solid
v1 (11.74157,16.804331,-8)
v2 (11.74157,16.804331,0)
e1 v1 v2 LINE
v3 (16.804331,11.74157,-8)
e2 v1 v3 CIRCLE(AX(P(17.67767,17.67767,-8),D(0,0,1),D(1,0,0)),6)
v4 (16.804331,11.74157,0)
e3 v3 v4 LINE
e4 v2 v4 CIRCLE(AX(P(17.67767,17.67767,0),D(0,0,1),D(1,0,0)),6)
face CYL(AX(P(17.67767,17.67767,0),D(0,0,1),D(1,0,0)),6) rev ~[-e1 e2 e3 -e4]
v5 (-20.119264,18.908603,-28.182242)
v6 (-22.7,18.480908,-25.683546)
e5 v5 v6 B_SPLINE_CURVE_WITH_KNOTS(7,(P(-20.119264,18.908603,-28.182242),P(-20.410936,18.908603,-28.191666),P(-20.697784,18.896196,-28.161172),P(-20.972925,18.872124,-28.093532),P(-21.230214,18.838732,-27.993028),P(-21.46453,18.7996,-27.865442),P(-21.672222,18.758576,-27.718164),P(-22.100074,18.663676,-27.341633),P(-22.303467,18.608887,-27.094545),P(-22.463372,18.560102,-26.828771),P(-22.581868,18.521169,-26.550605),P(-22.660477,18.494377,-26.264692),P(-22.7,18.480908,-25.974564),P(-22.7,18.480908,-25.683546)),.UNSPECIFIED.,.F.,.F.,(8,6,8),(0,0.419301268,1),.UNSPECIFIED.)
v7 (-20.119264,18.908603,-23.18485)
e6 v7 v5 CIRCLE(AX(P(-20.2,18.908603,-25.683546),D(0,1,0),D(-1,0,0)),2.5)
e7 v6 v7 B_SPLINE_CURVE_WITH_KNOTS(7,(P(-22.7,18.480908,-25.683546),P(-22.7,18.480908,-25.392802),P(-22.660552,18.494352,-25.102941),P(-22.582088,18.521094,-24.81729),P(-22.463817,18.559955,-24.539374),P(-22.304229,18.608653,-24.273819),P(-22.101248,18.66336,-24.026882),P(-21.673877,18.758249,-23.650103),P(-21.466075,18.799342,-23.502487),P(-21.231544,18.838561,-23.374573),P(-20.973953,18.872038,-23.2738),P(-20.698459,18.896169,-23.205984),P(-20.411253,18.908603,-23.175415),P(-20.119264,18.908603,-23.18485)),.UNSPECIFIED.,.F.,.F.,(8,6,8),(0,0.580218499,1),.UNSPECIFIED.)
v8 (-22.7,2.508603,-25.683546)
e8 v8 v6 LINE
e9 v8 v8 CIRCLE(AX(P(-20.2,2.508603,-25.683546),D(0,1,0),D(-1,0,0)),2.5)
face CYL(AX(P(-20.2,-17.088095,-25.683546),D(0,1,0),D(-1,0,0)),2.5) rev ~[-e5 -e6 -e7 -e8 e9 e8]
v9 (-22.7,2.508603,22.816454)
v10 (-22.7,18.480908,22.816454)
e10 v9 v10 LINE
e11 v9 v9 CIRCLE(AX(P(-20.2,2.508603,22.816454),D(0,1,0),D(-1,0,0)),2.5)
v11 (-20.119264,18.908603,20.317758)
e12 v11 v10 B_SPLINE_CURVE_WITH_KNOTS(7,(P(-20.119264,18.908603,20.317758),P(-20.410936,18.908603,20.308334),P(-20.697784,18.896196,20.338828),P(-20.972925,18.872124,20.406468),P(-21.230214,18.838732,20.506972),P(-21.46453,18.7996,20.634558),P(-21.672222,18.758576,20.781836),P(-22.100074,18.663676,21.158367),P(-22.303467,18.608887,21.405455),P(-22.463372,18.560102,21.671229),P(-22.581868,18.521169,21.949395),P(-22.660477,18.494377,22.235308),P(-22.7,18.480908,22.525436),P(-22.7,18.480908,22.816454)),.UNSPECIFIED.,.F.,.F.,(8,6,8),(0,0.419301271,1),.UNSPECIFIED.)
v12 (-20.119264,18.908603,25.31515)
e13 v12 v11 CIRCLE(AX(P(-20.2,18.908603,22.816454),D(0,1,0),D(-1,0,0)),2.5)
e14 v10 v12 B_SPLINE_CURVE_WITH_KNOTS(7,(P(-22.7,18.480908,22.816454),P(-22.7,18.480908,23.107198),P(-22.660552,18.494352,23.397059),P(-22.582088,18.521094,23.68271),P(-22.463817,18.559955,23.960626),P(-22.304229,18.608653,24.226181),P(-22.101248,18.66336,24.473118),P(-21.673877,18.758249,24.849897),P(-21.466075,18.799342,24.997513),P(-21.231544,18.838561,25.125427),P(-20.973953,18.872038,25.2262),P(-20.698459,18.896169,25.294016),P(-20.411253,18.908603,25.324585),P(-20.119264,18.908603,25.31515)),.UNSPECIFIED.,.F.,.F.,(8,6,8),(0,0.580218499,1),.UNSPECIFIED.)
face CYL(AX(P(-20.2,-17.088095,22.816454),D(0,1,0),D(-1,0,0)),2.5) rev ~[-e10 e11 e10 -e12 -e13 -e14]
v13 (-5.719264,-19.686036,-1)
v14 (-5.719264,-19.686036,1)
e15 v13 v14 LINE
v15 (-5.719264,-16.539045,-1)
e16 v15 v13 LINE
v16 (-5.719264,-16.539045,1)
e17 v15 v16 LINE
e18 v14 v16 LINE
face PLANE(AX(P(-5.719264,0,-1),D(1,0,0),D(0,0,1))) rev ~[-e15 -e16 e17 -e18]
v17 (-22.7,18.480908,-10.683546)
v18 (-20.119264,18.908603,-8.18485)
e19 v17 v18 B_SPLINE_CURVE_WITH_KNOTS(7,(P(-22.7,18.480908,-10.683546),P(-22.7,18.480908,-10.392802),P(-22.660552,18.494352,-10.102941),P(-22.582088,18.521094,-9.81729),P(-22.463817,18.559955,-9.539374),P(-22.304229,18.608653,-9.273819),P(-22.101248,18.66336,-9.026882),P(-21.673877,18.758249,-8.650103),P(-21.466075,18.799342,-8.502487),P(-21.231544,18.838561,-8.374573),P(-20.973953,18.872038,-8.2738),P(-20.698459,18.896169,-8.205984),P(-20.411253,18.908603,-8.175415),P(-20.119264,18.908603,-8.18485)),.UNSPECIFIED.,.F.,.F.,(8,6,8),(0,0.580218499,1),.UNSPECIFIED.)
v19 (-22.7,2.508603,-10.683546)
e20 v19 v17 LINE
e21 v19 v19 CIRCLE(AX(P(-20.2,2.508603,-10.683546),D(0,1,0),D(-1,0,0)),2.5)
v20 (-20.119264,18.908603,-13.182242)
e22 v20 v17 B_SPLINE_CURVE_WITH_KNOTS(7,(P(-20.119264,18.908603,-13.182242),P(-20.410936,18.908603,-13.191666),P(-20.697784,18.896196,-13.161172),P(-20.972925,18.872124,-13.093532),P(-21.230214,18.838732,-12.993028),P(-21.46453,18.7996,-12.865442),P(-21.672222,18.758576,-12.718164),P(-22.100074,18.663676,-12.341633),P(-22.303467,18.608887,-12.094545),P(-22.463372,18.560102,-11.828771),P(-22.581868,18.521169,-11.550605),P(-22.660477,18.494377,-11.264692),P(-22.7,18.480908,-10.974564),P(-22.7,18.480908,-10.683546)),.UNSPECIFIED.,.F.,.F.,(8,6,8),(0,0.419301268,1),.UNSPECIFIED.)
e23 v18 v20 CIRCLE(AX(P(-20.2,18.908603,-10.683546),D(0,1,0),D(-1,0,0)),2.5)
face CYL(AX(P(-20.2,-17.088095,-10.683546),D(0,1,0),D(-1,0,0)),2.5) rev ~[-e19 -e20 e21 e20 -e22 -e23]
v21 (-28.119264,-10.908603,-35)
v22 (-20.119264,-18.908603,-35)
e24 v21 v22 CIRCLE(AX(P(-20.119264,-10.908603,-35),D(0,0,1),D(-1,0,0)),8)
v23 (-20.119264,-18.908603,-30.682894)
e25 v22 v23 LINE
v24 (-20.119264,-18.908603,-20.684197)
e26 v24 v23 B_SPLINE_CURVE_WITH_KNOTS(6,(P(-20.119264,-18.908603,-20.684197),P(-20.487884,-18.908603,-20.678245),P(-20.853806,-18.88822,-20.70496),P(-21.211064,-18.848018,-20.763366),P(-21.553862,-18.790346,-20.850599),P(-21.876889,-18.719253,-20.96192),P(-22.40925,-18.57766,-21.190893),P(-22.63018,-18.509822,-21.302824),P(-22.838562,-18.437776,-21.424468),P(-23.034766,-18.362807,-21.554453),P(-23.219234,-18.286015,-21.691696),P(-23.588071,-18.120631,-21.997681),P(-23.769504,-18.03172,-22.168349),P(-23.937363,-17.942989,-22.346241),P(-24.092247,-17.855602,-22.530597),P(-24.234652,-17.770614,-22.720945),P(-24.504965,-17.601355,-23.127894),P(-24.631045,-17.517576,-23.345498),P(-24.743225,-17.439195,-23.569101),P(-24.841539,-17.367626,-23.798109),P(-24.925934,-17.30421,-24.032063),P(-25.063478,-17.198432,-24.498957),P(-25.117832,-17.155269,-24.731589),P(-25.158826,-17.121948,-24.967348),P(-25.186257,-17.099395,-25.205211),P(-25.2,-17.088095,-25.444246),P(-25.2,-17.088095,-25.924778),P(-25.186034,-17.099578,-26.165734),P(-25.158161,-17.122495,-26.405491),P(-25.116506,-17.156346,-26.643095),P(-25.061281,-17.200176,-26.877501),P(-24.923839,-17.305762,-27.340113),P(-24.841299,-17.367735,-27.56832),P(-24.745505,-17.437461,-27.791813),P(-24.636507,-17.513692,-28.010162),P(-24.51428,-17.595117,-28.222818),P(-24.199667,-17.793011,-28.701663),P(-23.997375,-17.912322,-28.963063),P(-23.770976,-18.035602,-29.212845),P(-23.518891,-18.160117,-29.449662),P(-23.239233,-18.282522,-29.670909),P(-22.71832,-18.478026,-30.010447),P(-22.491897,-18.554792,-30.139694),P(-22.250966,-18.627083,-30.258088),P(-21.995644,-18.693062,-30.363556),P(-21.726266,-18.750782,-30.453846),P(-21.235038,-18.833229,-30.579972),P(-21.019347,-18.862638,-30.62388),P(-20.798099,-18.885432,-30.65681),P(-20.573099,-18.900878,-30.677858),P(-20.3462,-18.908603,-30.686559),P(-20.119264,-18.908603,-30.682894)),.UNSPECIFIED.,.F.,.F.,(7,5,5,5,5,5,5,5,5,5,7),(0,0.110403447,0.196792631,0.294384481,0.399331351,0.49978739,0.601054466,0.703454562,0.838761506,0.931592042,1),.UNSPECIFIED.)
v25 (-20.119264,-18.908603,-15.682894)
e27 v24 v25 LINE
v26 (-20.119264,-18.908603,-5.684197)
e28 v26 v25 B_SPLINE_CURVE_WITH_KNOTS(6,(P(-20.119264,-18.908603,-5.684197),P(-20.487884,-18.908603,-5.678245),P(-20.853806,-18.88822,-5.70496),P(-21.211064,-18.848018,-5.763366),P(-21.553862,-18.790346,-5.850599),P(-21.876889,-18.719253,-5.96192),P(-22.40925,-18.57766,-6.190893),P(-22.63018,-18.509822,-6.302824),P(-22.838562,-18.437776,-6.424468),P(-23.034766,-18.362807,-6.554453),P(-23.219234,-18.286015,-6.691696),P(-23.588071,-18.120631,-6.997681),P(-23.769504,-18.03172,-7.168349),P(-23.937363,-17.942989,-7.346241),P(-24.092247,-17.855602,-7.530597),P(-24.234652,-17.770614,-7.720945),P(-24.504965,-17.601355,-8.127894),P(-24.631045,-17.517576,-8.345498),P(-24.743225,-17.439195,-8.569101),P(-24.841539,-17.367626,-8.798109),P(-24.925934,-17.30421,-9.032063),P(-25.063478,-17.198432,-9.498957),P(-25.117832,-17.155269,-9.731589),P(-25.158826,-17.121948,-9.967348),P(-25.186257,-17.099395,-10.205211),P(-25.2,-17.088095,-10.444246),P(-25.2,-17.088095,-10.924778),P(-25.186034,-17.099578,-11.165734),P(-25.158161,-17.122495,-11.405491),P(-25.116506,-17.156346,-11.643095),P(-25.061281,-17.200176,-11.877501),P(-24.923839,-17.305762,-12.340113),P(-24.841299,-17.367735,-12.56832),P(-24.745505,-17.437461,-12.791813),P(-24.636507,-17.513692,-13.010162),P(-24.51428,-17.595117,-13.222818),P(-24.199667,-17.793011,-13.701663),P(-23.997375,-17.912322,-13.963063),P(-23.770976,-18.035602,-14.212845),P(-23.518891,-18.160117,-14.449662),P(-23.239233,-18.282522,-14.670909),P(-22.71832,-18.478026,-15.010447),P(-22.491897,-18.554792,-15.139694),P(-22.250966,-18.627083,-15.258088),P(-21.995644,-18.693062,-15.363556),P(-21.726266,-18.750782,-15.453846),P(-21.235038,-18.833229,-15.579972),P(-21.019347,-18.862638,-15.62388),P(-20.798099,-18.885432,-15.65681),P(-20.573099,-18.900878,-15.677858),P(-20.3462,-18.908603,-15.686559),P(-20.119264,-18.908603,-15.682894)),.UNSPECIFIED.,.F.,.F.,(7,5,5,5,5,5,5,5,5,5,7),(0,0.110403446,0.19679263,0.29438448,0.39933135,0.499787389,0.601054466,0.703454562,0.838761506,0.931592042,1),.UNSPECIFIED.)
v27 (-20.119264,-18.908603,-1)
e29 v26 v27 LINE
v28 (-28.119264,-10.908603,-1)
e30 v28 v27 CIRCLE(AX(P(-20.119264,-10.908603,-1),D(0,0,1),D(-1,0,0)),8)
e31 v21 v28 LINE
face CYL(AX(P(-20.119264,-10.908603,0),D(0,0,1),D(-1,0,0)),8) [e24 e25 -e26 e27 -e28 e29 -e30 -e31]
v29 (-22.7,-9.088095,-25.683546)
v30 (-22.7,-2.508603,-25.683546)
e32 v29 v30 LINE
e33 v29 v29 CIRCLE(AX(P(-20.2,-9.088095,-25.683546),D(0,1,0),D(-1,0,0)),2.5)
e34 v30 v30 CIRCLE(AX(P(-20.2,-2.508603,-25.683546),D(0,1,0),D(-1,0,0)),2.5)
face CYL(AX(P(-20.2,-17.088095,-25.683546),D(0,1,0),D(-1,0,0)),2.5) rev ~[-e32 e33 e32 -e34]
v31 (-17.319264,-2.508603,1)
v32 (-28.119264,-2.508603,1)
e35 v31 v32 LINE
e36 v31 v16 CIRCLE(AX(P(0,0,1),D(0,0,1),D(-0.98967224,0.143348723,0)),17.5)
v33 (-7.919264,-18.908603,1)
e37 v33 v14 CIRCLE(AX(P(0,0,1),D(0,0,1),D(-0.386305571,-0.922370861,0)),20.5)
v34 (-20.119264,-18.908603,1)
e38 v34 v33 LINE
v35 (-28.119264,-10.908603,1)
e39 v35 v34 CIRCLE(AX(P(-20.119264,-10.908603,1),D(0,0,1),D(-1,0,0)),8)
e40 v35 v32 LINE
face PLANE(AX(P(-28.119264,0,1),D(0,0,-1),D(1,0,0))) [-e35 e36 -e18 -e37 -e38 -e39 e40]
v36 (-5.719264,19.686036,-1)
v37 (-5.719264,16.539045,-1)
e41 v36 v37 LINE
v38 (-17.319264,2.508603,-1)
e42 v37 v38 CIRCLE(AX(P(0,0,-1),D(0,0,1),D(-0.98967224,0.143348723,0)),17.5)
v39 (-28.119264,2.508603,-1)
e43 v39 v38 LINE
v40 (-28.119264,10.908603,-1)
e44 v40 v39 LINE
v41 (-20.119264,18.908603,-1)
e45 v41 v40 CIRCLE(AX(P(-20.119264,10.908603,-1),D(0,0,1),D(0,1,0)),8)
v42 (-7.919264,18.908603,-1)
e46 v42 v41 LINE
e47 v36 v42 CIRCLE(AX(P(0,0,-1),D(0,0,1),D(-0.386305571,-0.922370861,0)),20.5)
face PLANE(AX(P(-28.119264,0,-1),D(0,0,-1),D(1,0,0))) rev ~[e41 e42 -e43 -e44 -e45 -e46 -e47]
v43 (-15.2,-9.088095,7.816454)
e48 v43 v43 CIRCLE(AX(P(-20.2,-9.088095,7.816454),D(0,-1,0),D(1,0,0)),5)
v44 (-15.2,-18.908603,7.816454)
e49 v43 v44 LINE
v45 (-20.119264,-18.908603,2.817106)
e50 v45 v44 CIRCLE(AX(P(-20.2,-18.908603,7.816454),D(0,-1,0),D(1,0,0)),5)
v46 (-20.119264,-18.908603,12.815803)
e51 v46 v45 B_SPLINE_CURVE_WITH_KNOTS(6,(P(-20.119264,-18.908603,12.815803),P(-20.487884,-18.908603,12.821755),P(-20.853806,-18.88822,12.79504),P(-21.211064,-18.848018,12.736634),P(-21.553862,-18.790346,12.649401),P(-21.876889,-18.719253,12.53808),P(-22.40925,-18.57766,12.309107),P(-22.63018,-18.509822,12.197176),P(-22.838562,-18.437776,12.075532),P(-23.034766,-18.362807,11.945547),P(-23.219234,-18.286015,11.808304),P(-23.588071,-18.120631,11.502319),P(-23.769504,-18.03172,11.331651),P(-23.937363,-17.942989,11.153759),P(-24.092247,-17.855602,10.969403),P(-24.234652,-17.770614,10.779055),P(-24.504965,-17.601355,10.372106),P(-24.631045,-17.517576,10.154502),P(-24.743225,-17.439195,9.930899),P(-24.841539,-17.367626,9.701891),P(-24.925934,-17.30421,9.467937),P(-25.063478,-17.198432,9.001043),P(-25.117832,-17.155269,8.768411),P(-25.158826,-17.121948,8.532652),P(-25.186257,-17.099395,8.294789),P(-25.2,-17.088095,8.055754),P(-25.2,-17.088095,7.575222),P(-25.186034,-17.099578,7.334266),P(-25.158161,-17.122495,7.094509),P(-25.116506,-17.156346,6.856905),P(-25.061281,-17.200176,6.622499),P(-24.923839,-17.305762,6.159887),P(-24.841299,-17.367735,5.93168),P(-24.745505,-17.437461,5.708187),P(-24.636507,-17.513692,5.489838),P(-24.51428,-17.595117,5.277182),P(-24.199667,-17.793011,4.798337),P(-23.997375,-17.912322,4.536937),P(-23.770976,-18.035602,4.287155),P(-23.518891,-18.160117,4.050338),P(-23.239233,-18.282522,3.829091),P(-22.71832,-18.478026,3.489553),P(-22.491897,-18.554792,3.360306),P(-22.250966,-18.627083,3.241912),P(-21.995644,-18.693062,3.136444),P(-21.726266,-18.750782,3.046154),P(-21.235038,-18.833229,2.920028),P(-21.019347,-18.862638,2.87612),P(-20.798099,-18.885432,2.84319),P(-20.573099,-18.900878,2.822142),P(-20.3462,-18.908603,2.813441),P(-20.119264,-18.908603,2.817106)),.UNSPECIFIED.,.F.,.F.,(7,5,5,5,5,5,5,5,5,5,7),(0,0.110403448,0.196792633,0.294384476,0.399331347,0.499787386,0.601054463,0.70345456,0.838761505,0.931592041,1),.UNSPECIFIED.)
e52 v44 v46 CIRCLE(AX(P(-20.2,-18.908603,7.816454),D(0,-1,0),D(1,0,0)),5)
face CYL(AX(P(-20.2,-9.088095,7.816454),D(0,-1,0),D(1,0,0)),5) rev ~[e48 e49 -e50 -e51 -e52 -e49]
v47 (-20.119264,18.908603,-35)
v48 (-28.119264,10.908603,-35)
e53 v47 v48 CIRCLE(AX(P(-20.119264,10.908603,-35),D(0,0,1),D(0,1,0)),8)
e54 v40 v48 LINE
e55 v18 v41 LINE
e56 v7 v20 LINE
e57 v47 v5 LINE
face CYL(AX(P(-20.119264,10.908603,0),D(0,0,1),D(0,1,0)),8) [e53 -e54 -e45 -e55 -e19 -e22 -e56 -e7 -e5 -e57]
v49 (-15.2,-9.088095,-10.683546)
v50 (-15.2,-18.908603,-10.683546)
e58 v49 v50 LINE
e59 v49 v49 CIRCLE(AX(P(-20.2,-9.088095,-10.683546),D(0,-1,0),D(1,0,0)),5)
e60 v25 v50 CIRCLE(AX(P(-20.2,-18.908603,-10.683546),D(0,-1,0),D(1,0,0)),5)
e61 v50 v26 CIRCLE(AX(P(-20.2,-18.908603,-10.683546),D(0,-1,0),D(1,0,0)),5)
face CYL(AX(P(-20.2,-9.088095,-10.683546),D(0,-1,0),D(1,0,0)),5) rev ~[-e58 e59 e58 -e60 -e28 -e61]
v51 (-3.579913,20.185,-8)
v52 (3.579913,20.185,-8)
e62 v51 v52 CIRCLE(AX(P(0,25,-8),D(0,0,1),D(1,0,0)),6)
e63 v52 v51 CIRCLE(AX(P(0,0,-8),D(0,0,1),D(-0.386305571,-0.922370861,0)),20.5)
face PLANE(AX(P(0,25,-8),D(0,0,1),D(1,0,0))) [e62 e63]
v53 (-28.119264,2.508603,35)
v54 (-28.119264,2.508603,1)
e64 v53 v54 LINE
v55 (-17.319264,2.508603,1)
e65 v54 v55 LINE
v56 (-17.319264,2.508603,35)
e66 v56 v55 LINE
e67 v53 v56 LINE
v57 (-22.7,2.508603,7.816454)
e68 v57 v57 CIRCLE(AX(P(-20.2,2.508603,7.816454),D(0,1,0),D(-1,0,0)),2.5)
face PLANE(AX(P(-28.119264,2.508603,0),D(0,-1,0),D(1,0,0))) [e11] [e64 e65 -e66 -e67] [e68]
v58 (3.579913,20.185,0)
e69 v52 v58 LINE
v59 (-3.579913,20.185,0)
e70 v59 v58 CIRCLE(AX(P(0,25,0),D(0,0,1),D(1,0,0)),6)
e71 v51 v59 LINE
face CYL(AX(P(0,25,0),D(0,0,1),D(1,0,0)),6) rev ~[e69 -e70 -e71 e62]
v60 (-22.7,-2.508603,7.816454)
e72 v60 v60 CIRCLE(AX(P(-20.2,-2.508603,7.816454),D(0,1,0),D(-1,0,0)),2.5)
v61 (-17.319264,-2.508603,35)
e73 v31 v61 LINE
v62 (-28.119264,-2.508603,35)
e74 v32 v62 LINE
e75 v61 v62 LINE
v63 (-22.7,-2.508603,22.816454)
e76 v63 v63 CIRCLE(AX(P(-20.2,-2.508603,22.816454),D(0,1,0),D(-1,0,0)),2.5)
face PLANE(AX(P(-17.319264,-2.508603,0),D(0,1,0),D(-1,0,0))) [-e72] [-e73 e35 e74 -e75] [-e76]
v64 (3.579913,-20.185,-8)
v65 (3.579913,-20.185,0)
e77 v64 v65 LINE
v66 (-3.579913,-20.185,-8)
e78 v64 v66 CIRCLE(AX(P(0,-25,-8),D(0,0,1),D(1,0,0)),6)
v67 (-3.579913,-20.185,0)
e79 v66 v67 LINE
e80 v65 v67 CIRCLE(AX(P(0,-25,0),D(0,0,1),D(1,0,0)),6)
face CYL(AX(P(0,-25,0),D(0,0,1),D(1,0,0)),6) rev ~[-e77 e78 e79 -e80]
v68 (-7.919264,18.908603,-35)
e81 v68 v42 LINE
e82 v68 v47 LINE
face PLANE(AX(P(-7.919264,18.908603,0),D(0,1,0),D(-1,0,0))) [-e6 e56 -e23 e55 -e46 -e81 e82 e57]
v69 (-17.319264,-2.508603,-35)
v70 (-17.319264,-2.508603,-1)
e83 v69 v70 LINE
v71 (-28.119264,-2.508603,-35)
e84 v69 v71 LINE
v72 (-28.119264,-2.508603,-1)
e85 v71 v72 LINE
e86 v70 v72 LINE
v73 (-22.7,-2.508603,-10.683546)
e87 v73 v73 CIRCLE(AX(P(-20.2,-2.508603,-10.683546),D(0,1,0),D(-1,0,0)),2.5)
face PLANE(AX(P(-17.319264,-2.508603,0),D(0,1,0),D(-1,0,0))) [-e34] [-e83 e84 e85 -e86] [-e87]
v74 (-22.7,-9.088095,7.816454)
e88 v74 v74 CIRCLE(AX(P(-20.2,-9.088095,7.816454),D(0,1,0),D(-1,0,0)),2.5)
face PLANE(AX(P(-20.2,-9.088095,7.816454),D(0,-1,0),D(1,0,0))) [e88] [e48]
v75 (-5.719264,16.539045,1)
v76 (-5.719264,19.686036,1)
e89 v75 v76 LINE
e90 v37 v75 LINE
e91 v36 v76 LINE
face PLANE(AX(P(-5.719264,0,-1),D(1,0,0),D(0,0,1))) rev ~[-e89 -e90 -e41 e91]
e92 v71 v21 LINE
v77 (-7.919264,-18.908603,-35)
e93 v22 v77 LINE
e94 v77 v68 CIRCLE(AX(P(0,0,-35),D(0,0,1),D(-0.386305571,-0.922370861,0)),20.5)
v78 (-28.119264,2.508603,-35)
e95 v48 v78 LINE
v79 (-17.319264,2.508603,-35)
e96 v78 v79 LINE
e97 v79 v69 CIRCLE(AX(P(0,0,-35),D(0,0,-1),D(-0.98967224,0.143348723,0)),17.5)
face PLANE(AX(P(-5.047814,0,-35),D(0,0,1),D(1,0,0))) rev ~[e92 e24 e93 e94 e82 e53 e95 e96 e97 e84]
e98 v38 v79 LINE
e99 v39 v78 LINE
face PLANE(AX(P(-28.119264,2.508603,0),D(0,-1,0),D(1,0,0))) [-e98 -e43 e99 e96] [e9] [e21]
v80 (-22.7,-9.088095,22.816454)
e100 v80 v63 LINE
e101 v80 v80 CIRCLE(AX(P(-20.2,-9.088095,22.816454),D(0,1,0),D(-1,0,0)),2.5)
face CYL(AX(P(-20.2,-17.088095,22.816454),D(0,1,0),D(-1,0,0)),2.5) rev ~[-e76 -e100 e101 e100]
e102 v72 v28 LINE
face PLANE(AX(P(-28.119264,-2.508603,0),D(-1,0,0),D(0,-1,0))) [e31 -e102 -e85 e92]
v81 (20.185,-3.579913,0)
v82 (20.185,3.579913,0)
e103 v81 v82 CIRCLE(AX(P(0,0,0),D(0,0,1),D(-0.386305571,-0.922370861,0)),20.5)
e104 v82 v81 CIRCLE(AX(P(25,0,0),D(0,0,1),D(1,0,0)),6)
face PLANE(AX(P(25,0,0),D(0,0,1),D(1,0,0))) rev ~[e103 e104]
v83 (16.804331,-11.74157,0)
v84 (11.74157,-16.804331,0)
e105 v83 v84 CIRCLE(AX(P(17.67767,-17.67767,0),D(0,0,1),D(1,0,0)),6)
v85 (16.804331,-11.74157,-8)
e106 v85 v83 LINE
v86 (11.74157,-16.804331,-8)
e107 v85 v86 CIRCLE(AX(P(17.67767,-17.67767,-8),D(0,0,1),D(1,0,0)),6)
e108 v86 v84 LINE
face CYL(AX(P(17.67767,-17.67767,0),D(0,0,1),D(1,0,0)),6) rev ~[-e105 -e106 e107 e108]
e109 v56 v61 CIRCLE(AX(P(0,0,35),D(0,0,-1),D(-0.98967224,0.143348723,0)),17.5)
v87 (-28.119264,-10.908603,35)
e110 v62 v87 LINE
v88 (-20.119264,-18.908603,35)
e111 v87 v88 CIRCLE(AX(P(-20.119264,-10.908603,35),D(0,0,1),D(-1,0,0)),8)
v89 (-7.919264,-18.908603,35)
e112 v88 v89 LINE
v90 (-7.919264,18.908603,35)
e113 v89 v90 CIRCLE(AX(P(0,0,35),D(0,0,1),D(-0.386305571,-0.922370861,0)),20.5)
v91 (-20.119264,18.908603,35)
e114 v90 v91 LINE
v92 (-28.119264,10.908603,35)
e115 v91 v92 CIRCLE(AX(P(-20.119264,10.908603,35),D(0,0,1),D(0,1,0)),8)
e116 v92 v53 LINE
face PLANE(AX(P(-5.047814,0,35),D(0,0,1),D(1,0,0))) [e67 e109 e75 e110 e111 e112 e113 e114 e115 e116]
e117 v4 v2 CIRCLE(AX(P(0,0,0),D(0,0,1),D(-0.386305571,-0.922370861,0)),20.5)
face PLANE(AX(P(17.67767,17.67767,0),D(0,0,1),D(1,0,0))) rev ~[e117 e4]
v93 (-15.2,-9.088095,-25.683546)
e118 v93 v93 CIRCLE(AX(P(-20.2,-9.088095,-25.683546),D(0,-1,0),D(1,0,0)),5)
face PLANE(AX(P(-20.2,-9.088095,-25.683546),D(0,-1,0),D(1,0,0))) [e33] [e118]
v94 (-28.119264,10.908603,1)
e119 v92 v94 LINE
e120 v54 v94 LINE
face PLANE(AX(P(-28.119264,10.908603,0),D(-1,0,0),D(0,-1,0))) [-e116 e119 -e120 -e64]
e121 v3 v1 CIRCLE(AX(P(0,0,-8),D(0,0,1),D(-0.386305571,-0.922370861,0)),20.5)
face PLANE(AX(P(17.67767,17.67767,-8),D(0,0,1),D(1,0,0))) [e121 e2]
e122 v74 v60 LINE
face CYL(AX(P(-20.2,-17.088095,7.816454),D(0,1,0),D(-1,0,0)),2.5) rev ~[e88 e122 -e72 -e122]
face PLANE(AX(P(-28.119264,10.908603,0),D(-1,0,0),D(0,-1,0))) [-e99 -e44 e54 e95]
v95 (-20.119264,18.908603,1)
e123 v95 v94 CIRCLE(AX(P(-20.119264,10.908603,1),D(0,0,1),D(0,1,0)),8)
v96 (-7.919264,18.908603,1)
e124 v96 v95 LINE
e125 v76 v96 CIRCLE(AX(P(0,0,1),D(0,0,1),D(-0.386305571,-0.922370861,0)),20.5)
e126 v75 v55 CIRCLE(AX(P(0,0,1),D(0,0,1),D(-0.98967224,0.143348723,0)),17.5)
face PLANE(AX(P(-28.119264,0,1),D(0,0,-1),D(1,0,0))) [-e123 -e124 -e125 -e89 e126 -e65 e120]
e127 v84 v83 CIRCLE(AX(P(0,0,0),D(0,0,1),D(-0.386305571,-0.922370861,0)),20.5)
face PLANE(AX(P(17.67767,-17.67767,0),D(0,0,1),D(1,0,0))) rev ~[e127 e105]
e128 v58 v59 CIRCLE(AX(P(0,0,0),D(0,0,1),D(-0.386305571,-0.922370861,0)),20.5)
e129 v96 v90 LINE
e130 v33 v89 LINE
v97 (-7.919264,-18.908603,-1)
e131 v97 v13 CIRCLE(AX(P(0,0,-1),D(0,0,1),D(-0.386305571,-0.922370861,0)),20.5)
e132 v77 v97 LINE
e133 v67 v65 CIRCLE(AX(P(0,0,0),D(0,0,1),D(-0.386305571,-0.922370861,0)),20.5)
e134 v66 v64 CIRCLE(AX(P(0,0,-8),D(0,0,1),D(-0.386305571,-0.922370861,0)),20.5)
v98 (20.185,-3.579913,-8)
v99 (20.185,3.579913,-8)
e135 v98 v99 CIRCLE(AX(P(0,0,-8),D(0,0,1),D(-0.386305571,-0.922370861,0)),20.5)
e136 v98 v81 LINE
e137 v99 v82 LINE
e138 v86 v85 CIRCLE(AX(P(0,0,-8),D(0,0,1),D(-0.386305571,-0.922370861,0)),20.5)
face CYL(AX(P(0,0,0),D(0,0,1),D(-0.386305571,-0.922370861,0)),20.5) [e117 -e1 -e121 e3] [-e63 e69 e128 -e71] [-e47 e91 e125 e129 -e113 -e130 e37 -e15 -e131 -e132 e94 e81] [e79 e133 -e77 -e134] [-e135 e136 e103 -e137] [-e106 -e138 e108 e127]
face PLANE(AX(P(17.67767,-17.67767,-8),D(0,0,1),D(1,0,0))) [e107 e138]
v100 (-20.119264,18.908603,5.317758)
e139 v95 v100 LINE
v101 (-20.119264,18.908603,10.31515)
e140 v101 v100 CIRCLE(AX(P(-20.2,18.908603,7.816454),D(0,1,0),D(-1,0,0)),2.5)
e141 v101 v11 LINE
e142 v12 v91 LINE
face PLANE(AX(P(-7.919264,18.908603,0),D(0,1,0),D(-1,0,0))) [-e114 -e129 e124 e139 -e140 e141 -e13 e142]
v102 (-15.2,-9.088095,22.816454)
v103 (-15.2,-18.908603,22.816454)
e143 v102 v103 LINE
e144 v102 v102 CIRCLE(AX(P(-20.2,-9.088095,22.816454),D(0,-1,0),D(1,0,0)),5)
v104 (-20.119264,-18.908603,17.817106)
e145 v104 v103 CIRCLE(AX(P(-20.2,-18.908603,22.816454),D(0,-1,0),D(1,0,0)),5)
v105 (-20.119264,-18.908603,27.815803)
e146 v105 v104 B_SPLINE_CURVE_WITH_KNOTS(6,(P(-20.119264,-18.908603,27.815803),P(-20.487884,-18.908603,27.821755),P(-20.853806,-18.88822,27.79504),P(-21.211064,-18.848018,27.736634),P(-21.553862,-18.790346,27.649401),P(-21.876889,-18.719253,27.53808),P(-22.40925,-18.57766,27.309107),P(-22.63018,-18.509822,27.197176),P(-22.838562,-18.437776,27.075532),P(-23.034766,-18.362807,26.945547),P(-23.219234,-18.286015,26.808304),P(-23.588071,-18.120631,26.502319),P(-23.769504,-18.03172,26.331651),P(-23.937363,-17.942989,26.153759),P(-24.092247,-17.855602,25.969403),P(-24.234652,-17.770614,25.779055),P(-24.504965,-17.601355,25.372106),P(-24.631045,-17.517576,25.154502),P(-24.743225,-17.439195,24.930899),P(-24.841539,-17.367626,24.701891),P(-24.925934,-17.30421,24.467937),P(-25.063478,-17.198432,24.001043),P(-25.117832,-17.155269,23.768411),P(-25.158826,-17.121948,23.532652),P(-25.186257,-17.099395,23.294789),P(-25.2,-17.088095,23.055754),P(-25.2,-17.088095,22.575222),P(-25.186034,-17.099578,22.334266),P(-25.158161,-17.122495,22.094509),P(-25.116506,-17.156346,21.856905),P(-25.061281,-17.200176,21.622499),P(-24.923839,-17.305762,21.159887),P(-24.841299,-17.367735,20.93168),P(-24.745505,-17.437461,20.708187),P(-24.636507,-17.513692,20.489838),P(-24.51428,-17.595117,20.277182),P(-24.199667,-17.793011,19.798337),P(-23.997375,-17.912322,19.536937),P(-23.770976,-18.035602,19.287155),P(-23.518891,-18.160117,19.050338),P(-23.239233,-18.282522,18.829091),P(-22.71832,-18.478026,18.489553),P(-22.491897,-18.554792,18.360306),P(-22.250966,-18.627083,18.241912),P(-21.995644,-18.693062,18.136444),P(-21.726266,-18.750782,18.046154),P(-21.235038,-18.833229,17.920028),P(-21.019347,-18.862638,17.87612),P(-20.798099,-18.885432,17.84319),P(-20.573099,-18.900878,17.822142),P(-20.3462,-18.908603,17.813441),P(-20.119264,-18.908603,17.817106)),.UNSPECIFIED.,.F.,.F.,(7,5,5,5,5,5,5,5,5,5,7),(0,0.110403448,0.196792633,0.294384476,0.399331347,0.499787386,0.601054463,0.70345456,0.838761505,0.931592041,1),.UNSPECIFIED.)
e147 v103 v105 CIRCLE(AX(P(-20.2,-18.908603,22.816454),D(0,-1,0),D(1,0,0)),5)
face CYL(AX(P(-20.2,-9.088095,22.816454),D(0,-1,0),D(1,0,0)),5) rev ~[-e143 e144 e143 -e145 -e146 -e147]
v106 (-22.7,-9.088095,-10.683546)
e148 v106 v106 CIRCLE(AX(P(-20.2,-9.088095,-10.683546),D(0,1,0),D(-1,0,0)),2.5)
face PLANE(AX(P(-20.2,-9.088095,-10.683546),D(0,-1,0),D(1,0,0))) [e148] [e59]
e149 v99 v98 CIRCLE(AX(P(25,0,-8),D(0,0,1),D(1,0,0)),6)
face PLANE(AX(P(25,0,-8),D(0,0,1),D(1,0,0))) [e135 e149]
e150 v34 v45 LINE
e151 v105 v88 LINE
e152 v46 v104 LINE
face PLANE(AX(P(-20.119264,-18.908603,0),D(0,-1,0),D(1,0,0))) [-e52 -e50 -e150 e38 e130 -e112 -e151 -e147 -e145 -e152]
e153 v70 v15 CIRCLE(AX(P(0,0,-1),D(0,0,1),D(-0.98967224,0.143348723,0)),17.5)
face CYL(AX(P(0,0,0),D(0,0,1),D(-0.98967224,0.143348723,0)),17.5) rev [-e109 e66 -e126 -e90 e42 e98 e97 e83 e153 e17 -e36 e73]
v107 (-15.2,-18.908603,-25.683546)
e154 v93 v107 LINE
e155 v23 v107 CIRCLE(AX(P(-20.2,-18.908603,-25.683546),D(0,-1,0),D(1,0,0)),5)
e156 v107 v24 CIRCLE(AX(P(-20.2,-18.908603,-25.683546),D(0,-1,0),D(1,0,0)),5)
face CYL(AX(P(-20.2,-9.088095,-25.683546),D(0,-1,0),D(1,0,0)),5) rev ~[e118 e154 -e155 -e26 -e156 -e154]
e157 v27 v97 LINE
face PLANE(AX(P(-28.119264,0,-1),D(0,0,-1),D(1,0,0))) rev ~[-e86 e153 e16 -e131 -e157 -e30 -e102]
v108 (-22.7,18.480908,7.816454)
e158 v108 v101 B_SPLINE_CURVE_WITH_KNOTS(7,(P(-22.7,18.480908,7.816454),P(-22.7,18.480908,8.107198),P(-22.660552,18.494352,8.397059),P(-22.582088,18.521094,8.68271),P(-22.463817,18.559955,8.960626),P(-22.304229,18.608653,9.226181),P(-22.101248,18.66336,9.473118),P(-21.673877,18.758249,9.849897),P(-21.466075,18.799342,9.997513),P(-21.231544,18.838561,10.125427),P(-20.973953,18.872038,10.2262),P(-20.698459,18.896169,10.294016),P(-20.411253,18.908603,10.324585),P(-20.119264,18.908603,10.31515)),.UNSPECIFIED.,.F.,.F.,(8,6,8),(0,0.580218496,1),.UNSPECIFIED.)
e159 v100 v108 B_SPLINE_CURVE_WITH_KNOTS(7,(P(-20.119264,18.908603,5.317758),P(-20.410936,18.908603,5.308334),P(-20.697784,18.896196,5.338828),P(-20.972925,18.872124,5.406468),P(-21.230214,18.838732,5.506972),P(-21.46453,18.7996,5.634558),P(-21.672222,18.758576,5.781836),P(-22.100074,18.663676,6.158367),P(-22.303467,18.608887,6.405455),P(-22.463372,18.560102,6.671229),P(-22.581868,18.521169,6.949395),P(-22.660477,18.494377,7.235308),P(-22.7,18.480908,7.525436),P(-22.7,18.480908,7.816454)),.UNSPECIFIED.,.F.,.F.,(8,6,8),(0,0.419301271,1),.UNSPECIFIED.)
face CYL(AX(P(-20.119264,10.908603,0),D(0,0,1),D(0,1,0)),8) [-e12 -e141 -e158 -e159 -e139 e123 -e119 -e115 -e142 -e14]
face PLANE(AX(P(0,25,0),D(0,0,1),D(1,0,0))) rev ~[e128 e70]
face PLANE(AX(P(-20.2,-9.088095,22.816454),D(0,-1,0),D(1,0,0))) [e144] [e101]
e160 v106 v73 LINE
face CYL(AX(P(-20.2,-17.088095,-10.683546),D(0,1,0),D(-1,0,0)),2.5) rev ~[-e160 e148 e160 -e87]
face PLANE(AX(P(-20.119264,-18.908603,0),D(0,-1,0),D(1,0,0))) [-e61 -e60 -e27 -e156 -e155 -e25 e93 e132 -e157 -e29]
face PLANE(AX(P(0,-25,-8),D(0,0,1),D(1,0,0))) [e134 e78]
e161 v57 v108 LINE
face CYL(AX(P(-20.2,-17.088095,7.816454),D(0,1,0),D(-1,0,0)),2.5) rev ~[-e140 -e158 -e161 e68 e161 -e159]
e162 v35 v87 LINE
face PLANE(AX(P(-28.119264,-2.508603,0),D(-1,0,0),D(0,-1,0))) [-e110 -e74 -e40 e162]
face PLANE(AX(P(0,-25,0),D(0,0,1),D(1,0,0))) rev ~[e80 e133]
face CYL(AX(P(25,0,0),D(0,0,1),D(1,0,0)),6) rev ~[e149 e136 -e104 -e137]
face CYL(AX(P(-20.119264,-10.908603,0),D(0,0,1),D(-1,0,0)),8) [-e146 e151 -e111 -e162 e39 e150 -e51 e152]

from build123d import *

# Parameters (mm, degrees)
F1_DEPTH       = 35
F3_D           = 5
F3_START       = 1.8205079
F3_CBORE_D     = 10
F3_CBORE_DEPTH = 8
F4_W           = 22.4
F4_H           = 2
F5_DEPTH       = 27.5
F6_R           = 6
F7_DEPTH       = 8


with BuildPart() as f1:
    # F0 (on Top) → F1 (new body, symmetric)
    with BuildSketch(Plane.XY):
        with BuildLine():
            ThreePointArc((-17.3192642082, 2.5086026559), (17.5, 0), (-17.3192642082, -2.5086026559))
            Line((-17.3192642082, -2.5086026559), (-28.1192642082, -2.5086026559))
            Line((-28.1192642082, -2.5086026559), (-28.1192642082, -10.9086026559))
            ThreePointArc((-28.1192642082, -10.9086026559), (-25.7761184577, -16.5654569054), (-20.1192642082, -18.9086026559))
            Line((-20.1192642082, -18.9086026559), (-7.9192642082, -18.9086026559))
            ThreePointArc((-7.9192642082, -18.9086026559), (20.5, 0), (-7.9192642082, 18.9086026559))
            Line((-7.9192642082, 18.9086026559), (-20.1192642082, 18.9086026559))
            ThreePointArc((-20.1192642082, 18.9086026559), (-25.7761184577, 16.5654569054), (-28.1192642082, 10.9086026559))
            Line((-28.1192642082, 10.9086026559), (-28.1192642082, 2.5086026559))
            Line((-28.1192642082, 2.5086026559), (-17.3192642082, 2.5086026559))
        make_face()
    extrude(amount=F1_DEPTH, both=True)

    # F3 (through all)
    # its depths count from where the whole tool has entered the part; down to there all is cleared
    with Locations(Plane.XZ.offset(18.9086026559).offset(-F3_START)):
        with Locations((-20.2, -25.683545606), (-20.2, -10.683545606), (-20.2, 7.816454394), (-20.2, 22.816454394)):
            CounterBoreHole(F3_D / 2, F3_CBORE_D / 2, F3_CBORE_DEPTH)

    # F4 (on Front) → F5 (cut, symmetric)
    with BuildSketch(Plane.XZ):
        with Locations((-16.9192642082, 0)):
            Rectangle(F4_W, F4_H)
    extrude(amount=F5_DEPTH, both=True, mode=Mode.SUBTRACT)

    # F6 (on Top) → F7 (cut)
    with BuildSketch(Plane.XY):
        with Locations((0, -25)):
            Circle(F6_R)
        with Locations((17.6776695297, -17.6776695297)):
            Circle(F6_R)
        with Locations((25, 0)):
            Circle(F6_R)
        with Locations((17.6776695297, 17.6776695297)):
            Circle(F6_R)
        with Locations((0, 25)):
            Circle(F6_R)
    extrude(amount=-F7_DEPTH, mode=Mode.SUBTRACT)


solid = f1.part
